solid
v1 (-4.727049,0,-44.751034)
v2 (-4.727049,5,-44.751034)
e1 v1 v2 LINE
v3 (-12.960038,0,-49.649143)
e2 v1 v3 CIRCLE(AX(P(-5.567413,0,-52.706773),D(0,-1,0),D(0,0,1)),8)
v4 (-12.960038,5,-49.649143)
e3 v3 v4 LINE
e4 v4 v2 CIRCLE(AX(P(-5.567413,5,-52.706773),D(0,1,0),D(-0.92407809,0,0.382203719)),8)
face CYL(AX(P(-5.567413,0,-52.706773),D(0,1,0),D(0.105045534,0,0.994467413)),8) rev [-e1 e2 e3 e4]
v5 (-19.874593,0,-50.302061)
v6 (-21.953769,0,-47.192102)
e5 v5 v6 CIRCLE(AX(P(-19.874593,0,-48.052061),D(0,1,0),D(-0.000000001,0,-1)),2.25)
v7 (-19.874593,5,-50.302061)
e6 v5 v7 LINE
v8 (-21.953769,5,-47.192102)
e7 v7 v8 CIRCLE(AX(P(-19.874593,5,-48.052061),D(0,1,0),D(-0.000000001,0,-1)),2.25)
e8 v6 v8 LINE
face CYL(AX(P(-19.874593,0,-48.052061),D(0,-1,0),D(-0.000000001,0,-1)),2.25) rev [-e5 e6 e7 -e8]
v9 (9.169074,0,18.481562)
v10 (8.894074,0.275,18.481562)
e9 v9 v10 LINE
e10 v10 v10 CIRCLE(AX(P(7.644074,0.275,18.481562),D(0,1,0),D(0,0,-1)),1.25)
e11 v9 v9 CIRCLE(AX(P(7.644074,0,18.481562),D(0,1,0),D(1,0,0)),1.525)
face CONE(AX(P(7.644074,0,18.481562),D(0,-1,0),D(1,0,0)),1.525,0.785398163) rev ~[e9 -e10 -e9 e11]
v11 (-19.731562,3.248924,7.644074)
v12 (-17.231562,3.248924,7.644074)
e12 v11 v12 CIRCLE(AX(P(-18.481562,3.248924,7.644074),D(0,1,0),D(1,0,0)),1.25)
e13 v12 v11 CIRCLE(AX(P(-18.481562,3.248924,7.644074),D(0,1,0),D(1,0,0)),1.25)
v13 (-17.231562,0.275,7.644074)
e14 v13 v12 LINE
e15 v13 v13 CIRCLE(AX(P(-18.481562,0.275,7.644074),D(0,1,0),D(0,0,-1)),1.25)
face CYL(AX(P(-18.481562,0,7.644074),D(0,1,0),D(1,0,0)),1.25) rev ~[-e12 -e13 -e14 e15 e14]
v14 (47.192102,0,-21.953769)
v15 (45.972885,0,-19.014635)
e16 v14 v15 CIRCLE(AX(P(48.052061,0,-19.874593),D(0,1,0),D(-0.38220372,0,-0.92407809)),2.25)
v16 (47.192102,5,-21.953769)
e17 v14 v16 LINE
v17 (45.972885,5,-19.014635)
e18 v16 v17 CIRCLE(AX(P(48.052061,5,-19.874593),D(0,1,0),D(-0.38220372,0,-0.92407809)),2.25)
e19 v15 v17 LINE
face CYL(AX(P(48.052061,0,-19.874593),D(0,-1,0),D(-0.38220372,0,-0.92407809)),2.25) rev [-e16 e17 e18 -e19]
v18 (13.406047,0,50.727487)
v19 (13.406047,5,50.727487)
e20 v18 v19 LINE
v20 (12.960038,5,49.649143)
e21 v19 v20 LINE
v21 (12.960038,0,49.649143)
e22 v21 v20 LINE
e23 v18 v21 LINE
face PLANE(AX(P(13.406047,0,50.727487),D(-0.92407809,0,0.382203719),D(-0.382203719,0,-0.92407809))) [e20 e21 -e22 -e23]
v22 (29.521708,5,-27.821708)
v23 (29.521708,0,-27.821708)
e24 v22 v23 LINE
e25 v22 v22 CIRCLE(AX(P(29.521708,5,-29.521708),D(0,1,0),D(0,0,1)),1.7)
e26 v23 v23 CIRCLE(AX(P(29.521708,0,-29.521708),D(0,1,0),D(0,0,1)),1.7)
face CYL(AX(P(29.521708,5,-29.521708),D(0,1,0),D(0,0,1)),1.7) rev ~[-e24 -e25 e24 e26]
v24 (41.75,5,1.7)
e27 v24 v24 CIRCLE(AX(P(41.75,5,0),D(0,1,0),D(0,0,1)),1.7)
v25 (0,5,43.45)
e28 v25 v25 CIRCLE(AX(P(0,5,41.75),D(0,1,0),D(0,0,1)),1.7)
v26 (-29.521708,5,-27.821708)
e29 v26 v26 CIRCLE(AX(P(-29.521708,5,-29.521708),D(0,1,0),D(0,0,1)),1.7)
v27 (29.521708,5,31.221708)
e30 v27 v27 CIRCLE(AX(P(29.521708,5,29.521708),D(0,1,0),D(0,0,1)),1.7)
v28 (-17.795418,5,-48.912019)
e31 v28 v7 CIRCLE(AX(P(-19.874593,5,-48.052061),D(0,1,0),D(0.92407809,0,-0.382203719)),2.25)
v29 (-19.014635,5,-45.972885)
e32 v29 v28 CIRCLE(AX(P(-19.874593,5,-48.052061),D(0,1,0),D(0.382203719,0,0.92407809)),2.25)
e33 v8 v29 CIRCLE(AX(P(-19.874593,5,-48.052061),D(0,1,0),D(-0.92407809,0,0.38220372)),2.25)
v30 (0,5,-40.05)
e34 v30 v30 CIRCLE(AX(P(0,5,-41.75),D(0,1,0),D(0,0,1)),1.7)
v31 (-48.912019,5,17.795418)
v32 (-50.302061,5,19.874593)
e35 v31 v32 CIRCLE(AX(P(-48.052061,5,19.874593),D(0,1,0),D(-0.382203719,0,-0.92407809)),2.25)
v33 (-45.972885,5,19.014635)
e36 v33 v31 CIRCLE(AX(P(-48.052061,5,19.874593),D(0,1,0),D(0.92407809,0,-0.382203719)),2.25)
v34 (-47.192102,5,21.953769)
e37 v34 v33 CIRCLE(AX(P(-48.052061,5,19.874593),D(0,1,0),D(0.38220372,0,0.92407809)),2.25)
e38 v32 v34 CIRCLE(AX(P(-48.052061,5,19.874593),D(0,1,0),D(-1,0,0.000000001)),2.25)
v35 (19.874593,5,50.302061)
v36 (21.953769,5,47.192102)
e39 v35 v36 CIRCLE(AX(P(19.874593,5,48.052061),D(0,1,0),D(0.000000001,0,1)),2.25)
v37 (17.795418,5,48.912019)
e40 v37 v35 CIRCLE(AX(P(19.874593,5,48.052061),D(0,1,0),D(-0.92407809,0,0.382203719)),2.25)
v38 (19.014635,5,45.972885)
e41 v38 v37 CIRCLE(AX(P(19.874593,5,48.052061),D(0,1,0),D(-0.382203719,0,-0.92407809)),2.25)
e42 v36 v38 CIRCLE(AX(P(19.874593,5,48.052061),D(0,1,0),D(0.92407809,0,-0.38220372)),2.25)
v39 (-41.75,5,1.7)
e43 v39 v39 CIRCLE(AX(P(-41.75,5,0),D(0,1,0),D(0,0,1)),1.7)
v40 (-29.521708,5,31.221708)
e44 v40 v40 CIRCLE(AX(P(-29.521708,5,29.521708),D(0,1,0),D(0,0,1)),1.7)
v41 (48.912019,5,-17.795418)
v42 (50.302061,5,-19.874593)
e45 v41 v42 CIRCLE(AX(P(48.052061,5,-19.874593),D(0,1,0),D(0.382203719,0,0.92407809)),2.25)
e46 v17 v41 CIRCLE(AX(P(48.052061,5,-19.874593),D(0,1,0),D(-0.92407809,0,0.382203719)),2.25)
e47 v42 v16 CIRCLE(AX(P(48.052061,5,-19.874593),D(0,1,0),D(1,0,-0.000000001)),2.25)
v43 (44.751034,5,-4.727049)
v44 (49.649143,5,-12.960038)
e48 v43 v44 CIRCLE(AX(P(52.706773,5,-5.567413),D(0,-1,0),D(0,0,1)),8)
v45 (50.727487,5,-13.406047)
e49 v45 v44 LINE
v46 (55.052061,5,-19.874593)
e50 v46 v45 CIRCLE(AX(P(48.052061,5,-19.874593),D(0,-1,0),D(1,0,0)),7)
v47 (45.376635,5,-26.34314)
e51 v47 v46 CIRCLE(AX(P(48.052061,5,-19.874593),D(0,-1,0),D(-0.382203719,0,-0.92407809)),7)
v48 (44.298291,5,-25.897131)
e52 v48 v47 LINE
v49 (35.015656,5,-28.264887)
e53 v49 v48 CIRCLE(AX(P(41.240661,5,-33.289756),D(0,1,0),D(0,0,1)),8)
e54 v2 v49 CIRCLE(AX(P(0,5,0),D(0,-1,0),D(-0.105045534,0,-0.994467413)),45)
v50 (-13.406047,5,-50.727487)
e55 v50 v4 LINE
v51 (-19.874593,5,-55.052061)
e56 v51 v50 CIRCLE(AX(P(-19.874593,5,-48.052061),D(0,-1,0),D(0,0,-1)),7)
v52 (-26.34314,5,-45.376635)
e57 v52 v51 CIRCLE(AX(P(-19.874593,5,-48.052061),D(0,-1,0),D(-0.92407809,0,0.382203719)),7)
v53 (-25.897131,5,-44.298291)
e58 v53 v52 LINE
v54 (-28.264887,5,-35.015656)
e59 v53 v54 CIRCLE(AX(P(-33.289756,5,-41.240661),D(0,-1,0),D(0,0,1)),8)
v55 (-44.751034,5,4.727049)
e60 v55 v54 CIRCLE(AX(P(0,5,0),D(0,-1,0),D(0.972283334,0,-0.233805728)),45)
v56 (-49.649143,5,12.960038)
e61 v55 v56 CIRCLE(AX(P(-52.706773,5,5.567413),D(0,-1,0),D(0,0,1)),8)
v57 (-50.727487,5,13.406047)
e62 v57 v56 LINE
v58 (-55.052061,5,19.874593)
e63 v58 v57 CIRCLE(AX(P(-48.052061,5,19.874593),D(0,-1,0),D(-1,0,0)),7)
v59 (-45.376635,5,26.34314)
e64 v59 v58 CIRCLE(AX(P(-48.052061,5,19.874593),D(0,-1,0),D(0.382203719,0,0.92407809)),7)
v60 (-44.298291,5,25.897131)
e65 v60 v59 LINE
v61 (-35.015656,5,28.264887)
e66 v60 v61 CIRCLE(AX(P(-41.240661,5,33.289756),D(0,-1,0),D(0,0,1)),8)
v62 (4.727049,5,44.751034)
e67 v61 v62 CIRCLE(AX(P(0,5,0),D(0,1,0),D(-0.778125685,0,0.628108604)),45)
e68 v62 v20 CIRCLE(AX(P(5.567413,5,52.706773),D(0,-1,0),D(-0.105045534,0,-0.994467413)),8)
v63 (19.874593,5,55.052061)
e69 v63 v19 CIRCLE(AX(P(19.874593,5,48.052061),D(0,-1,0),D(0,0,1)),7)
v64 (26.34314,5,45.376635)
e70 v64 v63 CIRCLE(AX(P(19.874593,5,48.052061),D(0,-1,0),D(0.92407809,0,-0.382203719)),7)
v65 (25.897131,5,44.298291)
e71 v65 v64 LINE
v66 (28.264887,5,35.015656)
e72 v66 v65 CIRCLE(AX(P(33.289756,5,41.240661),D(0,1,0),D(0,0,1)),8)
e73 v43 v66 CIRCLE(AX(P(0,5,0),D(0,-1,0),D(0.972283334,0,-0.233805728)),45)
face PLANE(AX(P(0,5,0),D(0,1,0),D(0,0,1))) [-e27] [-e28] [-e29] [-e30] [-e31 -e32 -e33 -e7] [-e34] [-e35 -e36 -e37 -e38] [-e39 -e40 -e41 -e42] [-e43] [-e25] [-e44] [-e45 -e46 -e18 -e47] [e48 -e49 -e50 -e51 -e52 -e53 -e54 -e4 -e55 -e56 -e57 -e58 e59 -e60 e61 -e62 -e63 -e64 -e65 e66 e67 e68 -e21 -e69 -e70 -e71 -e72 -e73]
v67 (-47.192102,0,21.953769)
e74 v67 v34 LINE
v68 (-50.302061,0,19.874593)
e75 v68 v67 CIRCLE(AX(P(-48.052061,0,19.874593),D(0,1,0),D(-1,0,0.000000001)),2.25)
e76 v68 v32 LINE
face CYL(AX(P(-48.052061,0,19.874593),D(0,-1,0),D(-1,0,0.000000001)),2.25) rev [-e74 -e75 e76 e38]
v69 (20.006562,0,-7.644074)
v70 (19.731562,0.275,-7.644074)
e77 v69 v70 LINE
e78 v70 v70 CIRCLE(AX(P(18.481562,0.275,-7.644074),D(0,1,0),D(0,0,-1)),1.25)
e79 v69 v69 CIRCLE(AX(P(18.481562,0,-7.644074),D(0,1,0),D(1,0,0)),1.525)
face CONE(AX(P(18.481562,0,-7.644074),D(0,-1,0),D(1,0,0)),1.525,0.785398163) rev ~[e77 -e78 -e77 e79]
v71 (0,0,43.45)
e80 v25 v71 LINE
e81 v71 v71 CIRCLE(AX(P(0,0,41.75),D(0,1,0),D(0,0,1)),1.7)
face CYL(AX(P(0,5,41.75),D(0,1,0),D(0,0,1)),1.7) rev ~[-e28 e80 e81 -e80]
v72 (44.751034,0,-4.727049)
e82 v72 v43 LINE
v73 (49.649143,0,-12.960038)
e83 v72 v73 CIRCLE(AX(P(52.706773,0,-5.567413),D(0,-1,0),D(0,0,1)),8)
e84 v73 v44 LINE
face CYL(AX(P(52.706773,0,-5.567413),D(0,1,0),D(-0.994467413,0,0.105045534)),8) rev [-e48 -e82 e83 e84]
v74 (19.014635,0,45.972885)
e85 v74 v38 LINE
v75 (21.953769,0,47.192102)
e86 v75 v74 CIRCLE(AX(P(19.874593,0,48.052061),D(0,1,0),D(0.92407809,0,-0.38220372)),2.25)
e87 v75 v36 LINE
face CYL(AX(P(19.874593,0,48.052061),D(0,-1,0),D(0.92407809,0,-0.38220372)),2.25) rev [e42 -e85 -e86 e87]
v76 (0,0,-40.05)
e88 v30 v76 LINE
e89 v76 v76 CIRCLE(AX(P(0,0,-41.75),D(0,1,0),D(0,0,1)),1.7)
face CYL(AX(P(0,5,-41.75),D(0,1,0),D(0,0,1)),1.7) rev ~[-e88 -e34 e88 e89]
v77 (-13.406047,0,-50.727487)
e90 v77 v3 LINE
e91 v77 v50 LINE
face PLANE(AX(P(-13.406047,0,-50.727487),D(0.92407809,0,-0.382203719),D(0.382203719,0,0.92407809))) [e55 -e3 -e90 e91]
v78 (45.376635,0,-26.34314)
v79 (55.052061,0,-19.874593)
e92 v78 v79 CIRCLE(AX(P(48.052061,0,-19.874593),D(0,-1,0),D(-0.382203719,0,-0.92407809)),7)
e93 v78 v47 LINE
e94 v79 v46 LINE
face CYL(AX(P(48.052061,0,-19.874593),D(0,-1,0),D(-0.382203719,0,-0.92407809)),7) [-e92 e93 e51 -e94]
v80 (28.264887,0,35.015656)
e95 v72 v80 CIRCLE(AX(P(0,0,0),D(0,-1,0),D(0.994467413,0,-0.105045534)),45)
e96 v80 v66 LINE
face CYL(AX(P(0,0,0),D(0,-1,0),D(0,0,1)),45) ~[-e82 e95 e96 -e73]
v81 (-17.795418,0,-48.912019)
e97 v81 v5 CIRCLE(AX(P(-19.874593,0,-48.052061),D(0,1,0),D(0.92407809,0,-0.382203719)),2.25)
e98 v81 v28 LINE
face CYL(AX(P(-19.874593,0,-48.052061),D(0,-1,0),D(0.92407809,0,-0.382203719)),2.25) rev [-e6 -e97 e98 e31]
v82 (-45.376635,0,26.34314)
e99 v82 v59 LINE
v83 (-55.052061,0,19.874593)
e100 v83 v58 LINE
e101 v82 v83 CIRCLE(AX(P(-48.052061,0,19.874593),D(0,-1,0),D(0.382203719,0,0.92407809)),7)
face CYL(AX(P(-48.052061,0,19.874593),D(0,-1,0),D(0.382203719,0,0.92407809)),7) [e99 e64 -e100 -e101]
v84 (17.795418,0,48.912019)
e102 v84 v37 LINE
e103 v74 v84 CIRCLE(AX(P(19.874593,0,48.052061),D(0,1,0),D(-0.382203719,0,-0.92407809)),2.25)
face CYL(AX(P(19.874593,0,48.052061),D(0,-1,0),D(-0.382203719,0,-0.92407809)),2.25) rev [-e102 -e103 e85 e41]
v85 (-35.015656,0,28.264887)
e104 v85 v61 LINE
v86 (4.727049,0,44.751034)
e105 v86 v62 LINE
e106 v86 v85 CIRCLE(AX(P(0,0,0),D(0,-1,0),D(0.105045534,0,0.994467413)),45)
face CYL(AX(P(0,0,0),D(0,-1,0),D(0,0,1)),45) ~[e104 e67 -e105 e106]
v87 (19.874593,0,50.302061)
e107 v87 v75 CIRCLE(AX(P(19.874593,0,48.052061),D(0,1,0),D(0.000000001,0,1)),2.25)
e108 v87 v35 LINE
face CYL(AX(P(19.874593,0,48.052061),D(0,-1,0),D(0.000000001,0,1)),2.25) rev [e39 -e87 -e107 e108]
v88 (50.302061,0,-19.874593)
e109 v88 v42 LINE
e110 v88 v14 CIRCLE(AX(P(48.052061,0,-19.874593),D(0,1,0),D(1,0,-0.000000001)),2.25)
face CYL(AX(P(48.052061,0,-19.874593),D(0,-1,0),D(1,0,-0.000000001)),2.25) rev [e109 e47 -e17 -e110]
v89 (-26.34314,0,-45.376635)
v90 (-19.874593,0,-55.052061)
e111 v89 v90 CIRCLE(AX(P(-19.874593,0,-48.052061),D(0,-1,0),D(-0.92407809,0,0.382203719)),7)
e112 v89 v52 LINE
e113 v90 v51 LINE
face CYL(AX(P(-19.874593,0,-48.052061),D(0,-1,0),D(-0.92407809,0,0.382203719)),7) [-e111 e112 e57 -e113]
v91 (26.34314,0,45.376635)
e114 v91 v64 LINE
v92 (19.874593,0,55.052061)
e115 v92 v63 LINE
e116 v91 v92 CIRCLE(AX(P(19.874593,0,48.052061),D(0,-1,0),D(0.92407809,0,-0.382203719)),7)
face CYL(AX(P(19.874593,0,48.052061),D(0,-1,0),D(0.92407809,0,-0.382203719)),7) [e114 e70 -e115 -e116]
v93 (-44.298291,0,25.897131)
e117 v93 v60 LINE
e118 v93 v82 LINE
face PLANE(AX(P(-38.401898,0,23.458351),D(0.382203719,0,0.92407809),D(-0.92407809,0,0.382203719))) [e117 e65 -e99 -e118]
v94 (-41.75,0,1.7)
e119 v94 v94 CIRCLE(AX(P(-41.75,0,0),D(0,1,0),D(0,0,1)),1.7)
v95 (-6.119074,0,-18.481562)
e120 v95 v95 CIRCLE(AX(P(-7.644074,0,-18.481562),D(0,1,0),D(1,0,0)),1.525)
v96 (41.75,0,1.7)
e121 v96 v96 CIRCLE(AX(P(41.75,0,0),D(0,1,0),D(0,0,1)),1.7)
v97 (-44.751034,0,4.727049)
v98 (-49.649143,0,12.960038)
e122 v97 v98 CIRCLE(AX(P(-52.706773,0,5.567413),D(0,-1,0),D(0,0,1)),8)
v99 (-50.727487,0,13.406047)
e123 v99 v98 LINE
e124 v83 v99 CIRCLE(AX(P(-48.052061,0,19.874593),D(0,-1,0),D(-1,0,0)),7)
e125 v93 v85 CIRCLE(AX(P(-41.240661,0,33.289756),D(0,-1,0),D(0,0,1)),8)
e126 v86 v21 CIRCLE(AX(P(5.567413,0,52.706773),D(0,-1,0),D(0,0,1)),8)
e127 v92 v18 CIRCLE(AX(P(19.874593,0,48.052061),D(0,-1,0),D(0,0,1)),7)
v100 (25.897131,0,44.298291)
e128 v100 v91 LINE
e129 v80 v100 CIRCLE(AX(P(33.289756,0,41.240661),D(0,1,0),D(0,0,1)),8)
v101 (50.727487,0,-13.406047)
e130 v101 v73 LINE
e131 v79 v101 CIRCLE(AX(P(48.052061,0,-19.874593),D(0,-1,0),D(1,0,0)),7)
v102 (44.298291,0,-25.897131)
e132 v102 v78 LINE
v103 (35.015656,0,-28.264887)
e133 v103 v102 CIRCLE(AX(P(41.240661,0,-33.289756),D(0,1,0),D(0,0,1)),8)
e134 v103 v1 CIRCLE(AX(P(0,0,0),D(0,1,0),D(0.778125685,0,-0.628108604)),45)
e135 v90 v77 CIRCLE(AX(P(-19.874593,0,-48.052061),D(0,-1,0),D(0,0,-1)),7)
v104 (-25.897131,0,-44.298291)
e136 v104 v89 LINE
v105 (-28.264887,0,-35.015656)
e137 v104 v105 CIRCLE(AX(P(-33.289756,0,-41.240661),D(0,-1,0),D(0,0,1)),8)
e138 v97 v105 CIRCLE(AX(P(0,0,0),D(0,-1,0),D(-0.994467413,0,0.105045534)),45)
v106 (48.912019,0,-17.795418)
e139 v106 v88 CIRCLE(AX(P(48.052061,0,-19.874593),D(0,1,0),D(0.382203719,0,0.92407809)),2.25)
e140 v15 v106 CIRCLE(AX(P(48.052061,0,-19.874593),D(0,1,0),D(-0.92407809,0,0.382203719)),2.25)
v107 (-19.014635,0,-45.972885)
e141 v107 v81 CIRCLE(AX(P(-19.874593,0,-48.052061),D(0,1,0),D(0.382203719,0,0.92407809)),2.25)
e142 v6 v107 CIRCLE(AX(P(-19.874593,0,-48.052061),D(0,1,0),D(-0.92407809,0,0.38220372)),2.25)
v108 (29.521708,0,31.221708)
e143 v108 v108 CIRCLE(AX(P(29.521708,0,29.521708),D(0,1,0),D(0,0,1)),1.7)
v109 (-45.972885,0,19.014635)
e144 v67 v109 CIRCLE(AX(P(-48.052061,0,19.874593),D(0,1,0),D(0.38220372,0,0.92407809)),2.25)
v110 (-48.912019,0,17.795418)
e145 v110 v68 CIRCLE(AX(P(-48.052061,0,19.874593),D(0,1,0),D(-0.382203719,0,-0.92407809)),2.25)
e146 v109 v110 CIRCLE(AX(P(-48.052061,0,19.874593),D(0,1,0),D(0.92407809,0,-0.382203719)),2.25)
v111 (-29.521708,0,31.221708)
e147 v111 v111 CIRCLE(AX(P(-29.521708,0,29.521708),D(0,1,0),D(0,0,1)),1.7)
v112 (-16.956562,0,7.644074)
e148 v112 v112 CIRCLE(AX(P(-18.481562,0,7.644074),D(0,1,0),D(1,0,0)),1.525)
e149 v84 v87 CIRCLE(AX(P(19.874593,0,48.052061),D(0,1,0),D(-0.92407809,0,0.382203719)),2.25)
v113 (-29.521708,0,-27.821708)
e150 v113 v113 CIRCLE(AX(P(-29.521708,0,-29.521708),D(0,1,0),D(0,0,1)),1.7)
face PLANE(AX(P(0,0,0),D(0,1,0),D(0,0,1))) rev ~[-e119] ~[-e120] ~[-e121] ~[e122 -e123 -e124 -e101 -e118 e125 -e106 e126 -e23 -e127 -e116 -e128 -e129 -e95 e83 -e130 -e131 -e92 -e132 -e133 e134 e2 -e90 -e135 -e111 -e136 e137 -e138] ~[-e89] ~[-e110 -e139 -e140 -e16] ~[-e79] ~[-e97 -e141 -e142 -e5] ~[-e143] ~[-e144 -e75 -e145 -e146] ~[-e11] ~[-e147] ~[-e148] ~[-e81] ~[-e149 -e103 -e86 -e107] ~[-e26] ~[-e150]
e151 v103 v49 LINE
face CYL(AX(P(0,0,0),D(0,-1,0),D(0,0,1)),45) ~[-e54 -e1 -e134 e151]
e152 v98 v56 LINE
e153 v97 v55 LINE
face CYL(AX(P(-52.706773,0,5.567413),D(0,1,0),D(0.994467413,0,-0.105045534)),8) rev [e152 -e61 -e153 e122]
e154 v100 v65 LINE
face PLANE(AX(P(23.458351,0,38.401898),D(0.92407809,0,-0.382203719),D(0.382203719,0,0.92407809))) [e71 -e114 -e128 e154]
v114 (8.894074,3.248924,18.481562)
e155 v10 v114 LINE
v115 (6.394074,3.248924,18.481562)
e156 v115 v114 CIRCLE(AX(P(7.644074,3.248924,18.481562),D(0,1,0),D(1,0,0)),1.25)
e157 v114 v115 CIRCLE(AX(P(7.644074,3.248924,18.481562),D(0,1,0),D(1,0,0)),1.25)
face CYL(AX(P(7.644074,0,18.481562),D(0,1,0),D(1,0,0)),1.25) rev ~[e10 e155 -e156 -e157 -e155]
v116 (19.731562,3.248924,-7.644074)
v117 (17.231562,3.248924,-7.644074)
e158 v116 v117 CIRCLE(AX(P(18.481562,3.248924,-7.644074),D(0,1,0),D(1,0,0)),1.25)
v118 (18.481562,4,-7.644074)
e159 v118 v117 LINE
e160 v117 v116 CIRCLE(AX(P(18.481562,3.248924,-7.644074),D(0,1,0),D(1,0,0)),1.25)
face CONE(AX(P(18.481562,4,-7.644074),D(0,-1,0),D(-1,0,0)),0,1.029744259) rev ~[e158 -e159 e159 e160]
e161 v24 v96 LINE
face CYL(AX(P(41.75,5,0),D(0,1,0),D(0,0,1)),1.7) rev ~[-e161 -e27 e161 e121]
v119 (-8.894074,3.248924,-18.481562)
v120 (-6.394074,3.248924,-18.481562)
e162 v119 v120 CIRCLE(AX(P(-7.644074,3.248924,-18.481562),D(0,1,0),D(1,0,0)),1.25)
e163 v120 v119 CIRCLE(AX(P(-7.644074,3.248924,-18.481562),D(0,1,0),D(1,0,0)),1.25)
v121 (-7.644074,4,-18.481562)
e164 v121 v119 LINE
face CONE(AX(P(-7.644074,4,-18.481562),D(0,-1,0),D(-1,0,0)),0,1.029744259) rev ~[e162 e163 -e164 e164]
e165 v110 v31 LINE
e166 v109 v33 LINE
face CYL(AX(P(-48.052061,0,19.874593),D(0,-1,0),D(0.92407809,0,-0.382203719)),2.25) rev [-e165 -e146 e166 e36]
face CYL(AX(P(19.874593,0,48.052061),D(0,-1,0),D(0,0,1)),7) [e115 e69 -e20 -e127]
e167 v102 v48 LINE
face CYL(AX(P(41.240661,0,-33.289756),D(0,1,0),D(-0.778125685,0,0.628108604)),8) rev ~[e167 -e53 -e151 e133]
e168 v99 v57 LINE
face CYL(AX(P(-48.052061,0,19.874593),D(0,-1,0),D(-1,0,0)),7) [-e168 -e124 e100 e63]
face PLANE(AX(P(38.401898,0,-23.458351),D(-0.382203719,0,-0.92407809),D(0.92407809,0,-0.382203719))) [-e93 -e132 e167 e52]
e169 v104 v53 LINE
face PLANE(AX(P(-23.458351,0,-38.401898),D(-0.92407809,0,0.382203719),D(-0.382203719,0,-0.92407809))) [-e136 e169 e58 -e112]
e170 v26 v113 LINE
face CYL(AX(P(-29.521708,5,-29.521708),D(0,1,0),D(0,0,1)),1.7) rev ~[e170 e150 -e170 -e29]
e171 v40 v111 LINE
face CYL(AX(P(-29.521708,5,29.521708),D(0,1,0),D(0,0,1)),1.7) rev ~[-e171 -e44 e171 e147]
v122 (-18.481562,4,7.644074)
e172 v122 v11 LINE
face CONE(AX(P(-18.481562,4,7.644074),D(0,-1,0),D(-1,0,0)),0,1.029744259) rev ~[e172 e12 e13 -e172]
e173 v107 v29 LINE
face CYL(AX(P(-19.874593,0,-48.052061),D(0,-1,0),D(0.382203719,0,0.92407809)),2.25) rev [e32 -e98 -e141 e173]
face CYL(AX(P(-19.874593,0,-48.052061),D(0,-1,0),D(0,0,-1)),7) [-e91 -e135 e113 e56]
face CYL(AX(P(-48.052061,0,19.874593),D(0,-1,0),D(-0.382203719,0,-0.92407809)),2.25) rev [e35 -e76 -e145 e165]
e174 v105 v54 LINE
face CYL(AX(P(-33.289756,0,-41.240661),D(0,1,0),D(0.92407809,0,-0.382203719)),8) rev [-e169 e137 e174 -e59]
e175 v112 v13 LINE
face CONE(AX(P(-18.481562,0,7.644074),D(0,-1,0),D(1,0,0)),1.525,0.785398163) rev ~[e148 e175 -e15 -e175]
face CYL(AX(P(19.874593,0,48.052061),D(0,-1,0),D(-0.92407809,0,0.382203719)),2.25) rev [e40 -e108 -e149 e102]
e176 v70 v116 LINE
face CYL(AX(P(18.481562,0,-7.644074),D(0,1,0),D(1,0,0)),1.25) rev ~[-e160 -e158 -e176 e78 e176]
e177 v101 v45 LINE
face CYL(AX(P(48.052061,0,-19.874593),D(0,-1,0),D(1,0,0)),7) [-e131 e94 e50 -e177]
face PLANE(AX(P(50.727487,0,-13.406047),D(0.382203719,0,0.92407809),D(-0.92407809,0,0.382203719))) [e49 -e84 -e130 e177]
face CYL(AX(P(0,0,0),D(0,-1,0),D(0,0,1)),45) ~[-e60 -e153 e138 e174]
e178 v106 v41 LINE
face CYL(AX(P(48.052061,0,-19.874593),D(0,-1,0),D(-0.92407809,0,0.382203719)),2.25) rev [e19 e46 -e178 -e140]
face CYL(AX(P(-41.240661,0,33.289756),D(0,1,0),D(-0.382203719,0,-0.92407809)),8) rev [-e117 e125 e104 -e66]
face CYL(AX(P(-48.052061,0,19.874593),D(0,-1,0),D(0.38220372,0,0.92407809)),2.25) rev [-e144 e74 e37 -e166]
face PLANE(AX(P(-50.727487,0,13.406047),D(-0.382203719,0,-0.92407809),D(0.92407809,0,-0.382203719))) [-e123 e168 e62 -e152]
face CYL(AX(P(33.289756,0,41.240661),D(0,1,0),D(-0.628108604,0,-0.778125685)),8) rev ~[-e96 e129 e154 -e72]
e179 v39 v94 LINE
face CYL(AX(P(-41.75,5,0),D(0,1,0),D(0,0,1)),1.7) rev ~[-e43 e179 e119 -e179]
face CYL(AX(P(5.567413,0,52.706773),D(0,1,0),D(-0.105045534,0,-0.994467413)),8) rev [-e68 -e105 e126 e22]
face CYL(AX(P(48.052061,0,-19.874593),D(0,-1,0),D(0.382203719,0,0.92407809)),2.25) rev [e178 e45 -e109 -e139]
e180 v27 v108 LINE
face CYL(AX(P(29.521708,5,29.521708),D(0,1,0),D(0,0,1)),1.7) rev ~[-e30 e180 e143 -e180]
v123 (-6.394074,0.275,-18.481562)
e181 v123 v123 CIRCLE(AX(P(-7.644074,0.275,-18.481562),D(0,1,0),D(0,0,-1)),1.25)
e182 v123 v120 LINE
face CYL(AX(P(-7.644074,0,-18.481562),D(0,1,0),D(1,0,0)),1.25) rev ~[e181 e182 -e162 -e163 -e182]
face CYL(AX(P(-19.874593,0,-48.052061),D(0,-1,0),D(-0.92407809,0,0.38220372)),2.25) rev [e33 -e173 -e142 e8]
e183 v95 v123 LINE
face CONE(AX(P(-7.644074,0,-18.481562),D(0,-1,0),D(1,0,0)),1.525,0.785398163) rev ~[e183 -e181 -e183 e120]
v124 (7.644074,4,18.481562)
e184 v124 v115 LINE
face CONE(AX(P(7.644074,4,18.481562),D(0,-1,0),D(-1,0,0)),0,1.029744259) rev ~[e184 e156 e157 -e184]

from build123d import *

# Parameters (mm, degrees)
SKETCH1_R                       = 45
SKETCH1_R_2                     = 1.5
BOSS_EXTRUDE2_DEPTH             = 5
SKETCH9_R                       = 3.937
BOSS_EXTRUDE7_DEPTH             = 4
SKETCH10_R                      = 1.7
CUT_EXTRUDE9_DEPTH              = 14
BOSS_EXTRUDE8_DEPTH             = 5
FILLET1_R                       = 8
SKETCH17_R                      = 8.317724374
BOSS_EXTRUDE9_DEPTH             = 10
CIRPATTERN1_COUNT               = 4
FILLET1_OF_CIRPATTERN1_R        = 8
CUT_EXTRUDE10_DEPTH             = 80.287191735
CUT_EXTRUDE10_DEPTH_BACK        = 80.287191735
SKETCH18_W                      = 16.635448748
SKETCH18_H                      = 10
SKETCH18_W_2                    = 61.874
SKETCH18_H_2                    = 4
M3X0_5_TAPPED_HOLE1_D           = 2.5
M3X0_5_TAPPED_HOLE1_DEPTH       = 3.248924226
M3X0_5_TAPPED_HOLE1_CSINK_D     = 3.05
M3X0_5_TAPPED_HOLE1_CSINK_ANGLE = 90
M3X0_5_TAPPED_HOLE1_TIP         = 0.751075774


with BuildPart() as part:
    # Sketch1 → Boss-Extrude2 (new body)
    with BuildSketch(Plane(origin=(0, 0, 0), x_dir=(1, 0, 0), z_dir=(0, 1, 0))):
        with Locations(Location((0, 0, 0), (0, 0, 270))):
            Circle(SKETCH1_R)
        with Locations(Location((0, 41.75, 0), (0, 0, 270))):
            Circle(SKETCH1_R_2, mode=Mode.SUBTRACT)
        with Locations(Location((29.521708115, 29.521708115, 0), (0, 0, 270))):
            Circle(SKETCH1_R_2, mode=Mode.SUBTRACT)
        with Locations(Location((41.75, 0, 0), (0, 0, 270))):
            Circle(SKETCH1_R_2, mode=Mode.SUBTRACT)
        with Locations(Location((29.521708115, -29.521708115, 0), (0, 0, 270))):
            Circle(SKETCH1_R_2, mode=Mode.SUBTRACT)
        with Locations(Location((0, -41.75, 0), (0, 0, 270))):
            Circle(SKETCH1_R_2, mode=Mode.SUBTRACT)
        with Locations(Location((-29.521708115, -29.521708115, 0), (0, 0, 270))):
            Circle(SKETCH1_R_2, mode=Mode.SUBTRACT)
        with Locations(Location((-41.75, 0, 0), (0, 0, 270))):
            Circle(SKETCH1_R_2, mode=Mode.SUBTRACT)
        with Locations(Location((-29.521708115, 29.521708115, 0), (0, 0, 270))):
            Circle(SKETCH1_R_2, mode=Mode.SUBTRACT)
    extrude(amount=BOSS_EXTRUDE2_DEPTH)

    # Sketch9 → Boss-Extrude7 (add)
    with BuildSketch(Plane.XZ):
        with Locations(Location((27, 0, 0), (0, 0, 90))):
            Circle(SKETCH9_R)
        with Locations(Location((0, -27, 0), (0, 0, 90))):
            Circle(SKETCH9_R)
        with Locations(Location((-27, 0, 0), (0, 0, 90))):
            Circle(SKETCH9_R)
        with Locations(Location((0, 27, 0), (0, 0, 90))):
            Circle(SKETCH9_R)
    extrude(amount=BOSS_EXTRUDE7_DEPTH)

    # Sketch10 → Cut-Extrude9 (cut)
    with BuildSketch(Plane(origin=(0, 5, 0), x_dir=(1, 0, 0), z_dir=(0, 1, 0))):
        with Locations(Location((0, 41.75, 0), (0, 0, 270))):
            Circle(SKETCH10_R)
        with Locations(Location((29.521708115, 29.521708115, 0), (0, 0, 270))):
            Circle(SKETCH10_R)
        with Locations(Location((41.75, 0, 0), (0, 0, 270))):
            Circle(SKETCH10_R)
        with Locations(Location((29.521708115, -29.521708115, 0), (0, 0, 270))):
            Circle(SKETCH10_R)
        with Locations(Location((0, -41.75, 0), (0, 0, 270))):
            Circle(SKETCH10_R)
        with Locations(Location((-29.521708115, -29.521708115, 0), (0, 0, 270))):
            Circle(SKETCH10_R)
        with Locations(Location((-41.75, 0, 0), (0, 0, 270))):
            Circle(SKETCH10_R)
        with Locations(Location((-29.521708115, 29.521708115, 0), (0, 0, 270))):
            Circle(SKETCH10_R)
    extrude(amount=-CUT_EXTRUDE9_DEPTH, mode=Mode.SUBTRACT)

    # Sketch16 → Boss-Extrude8 (add)
    with BuildSketch(Plane.XZ):
        with BuildLine():
            ThreePointArc((45.376634658, -26.343140039), (41.586295626, -22.556734731), (41.583514038, -17.199167429))
            ThreePointArc((41.583514038, -17.199167429), (40.114970744, -20.390907832), (38.401897955, -23.458351039))
            Line((38.401897955, -23.458351039), (45.376634658, -26.343140039))
        make_face()
        with BuildLine():
            Line((50.727486729, -13.406046775), (43.752750026, -10.521257775))
            ThreePointArc((43.752750026, -10.521257775), (42.798576033, -13.902585715), (41.583514038, -17.199167429))
            ThreePointArc((41.583514038, -17.199167429), (45.36991937, -13.408828339), (50.727486729, -13.406046775))
        make_face()
        with BuildLine():
            Line((45.972884991, -19.014635038), (41.583514062, -17.199167371))
            ThreePointArc((41.583514062, -17.199167371), (41.586295614, -22.556734702), (45.376634658, -26.343140039))
            Line((45.376634658, -26.343140039), (47.192102325, -21.95376911))
            ThreePointArc((47.192102325, -21.95376911), (45.973779061, -20.736710252), (45.972884991, -19.014635038))
        make_face()
        with BuildLine():
            ThreePointArc((50.727486729, -13.406046775), (45.369919398, -13.408828327), (41.583514062, -17.199167371))
            Line((41.583514062, -17.199167371), (45.972884991, -19.014635038))
            ThreePointArc((45.972884991, -19.014635038), (47.189943849, -17.796311774), (48.912019062, -17.795417704))
            Line((48.912019062, -17.795417704), (50.727486729, -13.406046775))
        make_face()
        with BuildLine():
            ThreePointArc((55.052060694, -19.874593407), (53.871338237, -15.984091013), (50.727486729, -13.406046775))
            Line((50.727486729, -13.406046775), (48.912019062, -17.795417704))
            ThreePointArc((48.912019062, -17.795417704), (49.922542761, -18.62407478), (50.302060694, -19.874593407))
            ThreePointArc((50.302060694, -19.874593407), (49.30257932, -21.745075474), (47.192102325, -21.95376911))
            Line((47.192102325, -21.95376911), (45.376634658, -26.343140039))
            ThreePointArc((45.376634658, -26.343140039), (51.942563088, -25.69387095), (55.052060694, -19.874593407))
        make_face()
    boss_extrude8 = extrude(amount=-BOSS_EXTRUDE8_DEPTH)

    # Fillet1
    fillet1_edges = [part.edges().sort_by_distance(p)[0] for p in [
        (38.401897955, 2.5, -23.458351039),
        (43.752750026, 2.5, -10.521257775),
    ]]
    fillet(fillet1_edges, radius=FILLET1_R)

    # Sketch17 → Boss-Extrude9 (add)
    with BuildSketch(Plane(origin=(0, 5, 0), x_dir=(1, 0, 0), z_dir=(0, 1, 0))):
        with Locations(Location((0, 0, 0), (0, 0, 270))):
            Circle(SKETCH17_R)
    extrude(amount=BOSS_EXTRUDE9_DEPTH)

    # CirPattern1: Boss-Extrude8 ×4 about axis
    cirpattern1_axis = Axis((0, 0, 0), (0, 1, 0))
    for i in range(1, CIRPATTERN1_COUNT):
        add(boss_extrude8.rotate(cirpattern1_axis, i * 360 / CIRPATTERN1_COUNT))

    # Fillet1 of CirPattern1
    fillet1_of_cirpattern1_edges = [part.edges().sort_by_distance(p)[0] for p in [
        (-23.458351039, 2.5, -38.401897955),
        (-10.521257775, 2.5, -43.752750026),
        (-38.401897955, 2.5, 23.458351039),
        (-43.752750026, 2.5, 10.521257775),
        (23.458351039, 2.5, 38.401897955),
        (10.521257775, 2.5, 43.752750026),
    ]]
    fillet(fillet1_of_cirpattern1_edges, radius=FILLET1_OF_CIRPATTERN1_R)

    # Sketch18 → Cut-Extrude10 (cut, two sides: drawn at the far end of the back side and taken through both)
    with BuildSketch(Plane.XY.offset(-CUT_EXTRUDE10_DEPTH_BACK)):
        with Locations((0, 10)):
            Rectangle(SKETCH18_W, SKETCH18_H)
        with Locations((0, -2)):
            Rectangle(SKETCH18_W_2, SKETCH18_H_2)
    extrude(amount=CUT_EXTRUDE10_DEPTH + CUT_EXTRUDE10_DEPTH_BACK, mode=Mode.SUBTRACT)

    # M3x0.5 Tapped Hole1
    with Locations(Plane(origin=(0, 0, 0), x_dir=(-1, 0, 0), z_dir=(0, -1, 0))):
        with Locations((-18.481561805, 7.644074387), (7.644074387, 18.481561805), (18.481561805, -7.644074387), (-7.644074387, -18.481561805)):
            CounterSinkHole(M3X0_5_TAPPED_HOLE1_D / 2, M3X0_5_TAPPED_HOLE1_CSINK_D / 2, depth=M3X0_5_TAPPED_HOLE1_DEPTH, counter_sink_angle=M3X0_5_TAPPED_HOLE1_CSINK_ANGLE)
            with Locations((0, 0, -(M3X0_5_TAPPED_HOLE1_DEPTH + M3X0_5_TAPPED_HOLE1_TIP / 2))):  # 118° drill point
                Cone(0, M3X0_5_TAPPED_HOLE1_D / 2, M3X0_5_TAPPED_HOLE1_TIP, mode=Mode.SUBTRACT)


solid = part.part
